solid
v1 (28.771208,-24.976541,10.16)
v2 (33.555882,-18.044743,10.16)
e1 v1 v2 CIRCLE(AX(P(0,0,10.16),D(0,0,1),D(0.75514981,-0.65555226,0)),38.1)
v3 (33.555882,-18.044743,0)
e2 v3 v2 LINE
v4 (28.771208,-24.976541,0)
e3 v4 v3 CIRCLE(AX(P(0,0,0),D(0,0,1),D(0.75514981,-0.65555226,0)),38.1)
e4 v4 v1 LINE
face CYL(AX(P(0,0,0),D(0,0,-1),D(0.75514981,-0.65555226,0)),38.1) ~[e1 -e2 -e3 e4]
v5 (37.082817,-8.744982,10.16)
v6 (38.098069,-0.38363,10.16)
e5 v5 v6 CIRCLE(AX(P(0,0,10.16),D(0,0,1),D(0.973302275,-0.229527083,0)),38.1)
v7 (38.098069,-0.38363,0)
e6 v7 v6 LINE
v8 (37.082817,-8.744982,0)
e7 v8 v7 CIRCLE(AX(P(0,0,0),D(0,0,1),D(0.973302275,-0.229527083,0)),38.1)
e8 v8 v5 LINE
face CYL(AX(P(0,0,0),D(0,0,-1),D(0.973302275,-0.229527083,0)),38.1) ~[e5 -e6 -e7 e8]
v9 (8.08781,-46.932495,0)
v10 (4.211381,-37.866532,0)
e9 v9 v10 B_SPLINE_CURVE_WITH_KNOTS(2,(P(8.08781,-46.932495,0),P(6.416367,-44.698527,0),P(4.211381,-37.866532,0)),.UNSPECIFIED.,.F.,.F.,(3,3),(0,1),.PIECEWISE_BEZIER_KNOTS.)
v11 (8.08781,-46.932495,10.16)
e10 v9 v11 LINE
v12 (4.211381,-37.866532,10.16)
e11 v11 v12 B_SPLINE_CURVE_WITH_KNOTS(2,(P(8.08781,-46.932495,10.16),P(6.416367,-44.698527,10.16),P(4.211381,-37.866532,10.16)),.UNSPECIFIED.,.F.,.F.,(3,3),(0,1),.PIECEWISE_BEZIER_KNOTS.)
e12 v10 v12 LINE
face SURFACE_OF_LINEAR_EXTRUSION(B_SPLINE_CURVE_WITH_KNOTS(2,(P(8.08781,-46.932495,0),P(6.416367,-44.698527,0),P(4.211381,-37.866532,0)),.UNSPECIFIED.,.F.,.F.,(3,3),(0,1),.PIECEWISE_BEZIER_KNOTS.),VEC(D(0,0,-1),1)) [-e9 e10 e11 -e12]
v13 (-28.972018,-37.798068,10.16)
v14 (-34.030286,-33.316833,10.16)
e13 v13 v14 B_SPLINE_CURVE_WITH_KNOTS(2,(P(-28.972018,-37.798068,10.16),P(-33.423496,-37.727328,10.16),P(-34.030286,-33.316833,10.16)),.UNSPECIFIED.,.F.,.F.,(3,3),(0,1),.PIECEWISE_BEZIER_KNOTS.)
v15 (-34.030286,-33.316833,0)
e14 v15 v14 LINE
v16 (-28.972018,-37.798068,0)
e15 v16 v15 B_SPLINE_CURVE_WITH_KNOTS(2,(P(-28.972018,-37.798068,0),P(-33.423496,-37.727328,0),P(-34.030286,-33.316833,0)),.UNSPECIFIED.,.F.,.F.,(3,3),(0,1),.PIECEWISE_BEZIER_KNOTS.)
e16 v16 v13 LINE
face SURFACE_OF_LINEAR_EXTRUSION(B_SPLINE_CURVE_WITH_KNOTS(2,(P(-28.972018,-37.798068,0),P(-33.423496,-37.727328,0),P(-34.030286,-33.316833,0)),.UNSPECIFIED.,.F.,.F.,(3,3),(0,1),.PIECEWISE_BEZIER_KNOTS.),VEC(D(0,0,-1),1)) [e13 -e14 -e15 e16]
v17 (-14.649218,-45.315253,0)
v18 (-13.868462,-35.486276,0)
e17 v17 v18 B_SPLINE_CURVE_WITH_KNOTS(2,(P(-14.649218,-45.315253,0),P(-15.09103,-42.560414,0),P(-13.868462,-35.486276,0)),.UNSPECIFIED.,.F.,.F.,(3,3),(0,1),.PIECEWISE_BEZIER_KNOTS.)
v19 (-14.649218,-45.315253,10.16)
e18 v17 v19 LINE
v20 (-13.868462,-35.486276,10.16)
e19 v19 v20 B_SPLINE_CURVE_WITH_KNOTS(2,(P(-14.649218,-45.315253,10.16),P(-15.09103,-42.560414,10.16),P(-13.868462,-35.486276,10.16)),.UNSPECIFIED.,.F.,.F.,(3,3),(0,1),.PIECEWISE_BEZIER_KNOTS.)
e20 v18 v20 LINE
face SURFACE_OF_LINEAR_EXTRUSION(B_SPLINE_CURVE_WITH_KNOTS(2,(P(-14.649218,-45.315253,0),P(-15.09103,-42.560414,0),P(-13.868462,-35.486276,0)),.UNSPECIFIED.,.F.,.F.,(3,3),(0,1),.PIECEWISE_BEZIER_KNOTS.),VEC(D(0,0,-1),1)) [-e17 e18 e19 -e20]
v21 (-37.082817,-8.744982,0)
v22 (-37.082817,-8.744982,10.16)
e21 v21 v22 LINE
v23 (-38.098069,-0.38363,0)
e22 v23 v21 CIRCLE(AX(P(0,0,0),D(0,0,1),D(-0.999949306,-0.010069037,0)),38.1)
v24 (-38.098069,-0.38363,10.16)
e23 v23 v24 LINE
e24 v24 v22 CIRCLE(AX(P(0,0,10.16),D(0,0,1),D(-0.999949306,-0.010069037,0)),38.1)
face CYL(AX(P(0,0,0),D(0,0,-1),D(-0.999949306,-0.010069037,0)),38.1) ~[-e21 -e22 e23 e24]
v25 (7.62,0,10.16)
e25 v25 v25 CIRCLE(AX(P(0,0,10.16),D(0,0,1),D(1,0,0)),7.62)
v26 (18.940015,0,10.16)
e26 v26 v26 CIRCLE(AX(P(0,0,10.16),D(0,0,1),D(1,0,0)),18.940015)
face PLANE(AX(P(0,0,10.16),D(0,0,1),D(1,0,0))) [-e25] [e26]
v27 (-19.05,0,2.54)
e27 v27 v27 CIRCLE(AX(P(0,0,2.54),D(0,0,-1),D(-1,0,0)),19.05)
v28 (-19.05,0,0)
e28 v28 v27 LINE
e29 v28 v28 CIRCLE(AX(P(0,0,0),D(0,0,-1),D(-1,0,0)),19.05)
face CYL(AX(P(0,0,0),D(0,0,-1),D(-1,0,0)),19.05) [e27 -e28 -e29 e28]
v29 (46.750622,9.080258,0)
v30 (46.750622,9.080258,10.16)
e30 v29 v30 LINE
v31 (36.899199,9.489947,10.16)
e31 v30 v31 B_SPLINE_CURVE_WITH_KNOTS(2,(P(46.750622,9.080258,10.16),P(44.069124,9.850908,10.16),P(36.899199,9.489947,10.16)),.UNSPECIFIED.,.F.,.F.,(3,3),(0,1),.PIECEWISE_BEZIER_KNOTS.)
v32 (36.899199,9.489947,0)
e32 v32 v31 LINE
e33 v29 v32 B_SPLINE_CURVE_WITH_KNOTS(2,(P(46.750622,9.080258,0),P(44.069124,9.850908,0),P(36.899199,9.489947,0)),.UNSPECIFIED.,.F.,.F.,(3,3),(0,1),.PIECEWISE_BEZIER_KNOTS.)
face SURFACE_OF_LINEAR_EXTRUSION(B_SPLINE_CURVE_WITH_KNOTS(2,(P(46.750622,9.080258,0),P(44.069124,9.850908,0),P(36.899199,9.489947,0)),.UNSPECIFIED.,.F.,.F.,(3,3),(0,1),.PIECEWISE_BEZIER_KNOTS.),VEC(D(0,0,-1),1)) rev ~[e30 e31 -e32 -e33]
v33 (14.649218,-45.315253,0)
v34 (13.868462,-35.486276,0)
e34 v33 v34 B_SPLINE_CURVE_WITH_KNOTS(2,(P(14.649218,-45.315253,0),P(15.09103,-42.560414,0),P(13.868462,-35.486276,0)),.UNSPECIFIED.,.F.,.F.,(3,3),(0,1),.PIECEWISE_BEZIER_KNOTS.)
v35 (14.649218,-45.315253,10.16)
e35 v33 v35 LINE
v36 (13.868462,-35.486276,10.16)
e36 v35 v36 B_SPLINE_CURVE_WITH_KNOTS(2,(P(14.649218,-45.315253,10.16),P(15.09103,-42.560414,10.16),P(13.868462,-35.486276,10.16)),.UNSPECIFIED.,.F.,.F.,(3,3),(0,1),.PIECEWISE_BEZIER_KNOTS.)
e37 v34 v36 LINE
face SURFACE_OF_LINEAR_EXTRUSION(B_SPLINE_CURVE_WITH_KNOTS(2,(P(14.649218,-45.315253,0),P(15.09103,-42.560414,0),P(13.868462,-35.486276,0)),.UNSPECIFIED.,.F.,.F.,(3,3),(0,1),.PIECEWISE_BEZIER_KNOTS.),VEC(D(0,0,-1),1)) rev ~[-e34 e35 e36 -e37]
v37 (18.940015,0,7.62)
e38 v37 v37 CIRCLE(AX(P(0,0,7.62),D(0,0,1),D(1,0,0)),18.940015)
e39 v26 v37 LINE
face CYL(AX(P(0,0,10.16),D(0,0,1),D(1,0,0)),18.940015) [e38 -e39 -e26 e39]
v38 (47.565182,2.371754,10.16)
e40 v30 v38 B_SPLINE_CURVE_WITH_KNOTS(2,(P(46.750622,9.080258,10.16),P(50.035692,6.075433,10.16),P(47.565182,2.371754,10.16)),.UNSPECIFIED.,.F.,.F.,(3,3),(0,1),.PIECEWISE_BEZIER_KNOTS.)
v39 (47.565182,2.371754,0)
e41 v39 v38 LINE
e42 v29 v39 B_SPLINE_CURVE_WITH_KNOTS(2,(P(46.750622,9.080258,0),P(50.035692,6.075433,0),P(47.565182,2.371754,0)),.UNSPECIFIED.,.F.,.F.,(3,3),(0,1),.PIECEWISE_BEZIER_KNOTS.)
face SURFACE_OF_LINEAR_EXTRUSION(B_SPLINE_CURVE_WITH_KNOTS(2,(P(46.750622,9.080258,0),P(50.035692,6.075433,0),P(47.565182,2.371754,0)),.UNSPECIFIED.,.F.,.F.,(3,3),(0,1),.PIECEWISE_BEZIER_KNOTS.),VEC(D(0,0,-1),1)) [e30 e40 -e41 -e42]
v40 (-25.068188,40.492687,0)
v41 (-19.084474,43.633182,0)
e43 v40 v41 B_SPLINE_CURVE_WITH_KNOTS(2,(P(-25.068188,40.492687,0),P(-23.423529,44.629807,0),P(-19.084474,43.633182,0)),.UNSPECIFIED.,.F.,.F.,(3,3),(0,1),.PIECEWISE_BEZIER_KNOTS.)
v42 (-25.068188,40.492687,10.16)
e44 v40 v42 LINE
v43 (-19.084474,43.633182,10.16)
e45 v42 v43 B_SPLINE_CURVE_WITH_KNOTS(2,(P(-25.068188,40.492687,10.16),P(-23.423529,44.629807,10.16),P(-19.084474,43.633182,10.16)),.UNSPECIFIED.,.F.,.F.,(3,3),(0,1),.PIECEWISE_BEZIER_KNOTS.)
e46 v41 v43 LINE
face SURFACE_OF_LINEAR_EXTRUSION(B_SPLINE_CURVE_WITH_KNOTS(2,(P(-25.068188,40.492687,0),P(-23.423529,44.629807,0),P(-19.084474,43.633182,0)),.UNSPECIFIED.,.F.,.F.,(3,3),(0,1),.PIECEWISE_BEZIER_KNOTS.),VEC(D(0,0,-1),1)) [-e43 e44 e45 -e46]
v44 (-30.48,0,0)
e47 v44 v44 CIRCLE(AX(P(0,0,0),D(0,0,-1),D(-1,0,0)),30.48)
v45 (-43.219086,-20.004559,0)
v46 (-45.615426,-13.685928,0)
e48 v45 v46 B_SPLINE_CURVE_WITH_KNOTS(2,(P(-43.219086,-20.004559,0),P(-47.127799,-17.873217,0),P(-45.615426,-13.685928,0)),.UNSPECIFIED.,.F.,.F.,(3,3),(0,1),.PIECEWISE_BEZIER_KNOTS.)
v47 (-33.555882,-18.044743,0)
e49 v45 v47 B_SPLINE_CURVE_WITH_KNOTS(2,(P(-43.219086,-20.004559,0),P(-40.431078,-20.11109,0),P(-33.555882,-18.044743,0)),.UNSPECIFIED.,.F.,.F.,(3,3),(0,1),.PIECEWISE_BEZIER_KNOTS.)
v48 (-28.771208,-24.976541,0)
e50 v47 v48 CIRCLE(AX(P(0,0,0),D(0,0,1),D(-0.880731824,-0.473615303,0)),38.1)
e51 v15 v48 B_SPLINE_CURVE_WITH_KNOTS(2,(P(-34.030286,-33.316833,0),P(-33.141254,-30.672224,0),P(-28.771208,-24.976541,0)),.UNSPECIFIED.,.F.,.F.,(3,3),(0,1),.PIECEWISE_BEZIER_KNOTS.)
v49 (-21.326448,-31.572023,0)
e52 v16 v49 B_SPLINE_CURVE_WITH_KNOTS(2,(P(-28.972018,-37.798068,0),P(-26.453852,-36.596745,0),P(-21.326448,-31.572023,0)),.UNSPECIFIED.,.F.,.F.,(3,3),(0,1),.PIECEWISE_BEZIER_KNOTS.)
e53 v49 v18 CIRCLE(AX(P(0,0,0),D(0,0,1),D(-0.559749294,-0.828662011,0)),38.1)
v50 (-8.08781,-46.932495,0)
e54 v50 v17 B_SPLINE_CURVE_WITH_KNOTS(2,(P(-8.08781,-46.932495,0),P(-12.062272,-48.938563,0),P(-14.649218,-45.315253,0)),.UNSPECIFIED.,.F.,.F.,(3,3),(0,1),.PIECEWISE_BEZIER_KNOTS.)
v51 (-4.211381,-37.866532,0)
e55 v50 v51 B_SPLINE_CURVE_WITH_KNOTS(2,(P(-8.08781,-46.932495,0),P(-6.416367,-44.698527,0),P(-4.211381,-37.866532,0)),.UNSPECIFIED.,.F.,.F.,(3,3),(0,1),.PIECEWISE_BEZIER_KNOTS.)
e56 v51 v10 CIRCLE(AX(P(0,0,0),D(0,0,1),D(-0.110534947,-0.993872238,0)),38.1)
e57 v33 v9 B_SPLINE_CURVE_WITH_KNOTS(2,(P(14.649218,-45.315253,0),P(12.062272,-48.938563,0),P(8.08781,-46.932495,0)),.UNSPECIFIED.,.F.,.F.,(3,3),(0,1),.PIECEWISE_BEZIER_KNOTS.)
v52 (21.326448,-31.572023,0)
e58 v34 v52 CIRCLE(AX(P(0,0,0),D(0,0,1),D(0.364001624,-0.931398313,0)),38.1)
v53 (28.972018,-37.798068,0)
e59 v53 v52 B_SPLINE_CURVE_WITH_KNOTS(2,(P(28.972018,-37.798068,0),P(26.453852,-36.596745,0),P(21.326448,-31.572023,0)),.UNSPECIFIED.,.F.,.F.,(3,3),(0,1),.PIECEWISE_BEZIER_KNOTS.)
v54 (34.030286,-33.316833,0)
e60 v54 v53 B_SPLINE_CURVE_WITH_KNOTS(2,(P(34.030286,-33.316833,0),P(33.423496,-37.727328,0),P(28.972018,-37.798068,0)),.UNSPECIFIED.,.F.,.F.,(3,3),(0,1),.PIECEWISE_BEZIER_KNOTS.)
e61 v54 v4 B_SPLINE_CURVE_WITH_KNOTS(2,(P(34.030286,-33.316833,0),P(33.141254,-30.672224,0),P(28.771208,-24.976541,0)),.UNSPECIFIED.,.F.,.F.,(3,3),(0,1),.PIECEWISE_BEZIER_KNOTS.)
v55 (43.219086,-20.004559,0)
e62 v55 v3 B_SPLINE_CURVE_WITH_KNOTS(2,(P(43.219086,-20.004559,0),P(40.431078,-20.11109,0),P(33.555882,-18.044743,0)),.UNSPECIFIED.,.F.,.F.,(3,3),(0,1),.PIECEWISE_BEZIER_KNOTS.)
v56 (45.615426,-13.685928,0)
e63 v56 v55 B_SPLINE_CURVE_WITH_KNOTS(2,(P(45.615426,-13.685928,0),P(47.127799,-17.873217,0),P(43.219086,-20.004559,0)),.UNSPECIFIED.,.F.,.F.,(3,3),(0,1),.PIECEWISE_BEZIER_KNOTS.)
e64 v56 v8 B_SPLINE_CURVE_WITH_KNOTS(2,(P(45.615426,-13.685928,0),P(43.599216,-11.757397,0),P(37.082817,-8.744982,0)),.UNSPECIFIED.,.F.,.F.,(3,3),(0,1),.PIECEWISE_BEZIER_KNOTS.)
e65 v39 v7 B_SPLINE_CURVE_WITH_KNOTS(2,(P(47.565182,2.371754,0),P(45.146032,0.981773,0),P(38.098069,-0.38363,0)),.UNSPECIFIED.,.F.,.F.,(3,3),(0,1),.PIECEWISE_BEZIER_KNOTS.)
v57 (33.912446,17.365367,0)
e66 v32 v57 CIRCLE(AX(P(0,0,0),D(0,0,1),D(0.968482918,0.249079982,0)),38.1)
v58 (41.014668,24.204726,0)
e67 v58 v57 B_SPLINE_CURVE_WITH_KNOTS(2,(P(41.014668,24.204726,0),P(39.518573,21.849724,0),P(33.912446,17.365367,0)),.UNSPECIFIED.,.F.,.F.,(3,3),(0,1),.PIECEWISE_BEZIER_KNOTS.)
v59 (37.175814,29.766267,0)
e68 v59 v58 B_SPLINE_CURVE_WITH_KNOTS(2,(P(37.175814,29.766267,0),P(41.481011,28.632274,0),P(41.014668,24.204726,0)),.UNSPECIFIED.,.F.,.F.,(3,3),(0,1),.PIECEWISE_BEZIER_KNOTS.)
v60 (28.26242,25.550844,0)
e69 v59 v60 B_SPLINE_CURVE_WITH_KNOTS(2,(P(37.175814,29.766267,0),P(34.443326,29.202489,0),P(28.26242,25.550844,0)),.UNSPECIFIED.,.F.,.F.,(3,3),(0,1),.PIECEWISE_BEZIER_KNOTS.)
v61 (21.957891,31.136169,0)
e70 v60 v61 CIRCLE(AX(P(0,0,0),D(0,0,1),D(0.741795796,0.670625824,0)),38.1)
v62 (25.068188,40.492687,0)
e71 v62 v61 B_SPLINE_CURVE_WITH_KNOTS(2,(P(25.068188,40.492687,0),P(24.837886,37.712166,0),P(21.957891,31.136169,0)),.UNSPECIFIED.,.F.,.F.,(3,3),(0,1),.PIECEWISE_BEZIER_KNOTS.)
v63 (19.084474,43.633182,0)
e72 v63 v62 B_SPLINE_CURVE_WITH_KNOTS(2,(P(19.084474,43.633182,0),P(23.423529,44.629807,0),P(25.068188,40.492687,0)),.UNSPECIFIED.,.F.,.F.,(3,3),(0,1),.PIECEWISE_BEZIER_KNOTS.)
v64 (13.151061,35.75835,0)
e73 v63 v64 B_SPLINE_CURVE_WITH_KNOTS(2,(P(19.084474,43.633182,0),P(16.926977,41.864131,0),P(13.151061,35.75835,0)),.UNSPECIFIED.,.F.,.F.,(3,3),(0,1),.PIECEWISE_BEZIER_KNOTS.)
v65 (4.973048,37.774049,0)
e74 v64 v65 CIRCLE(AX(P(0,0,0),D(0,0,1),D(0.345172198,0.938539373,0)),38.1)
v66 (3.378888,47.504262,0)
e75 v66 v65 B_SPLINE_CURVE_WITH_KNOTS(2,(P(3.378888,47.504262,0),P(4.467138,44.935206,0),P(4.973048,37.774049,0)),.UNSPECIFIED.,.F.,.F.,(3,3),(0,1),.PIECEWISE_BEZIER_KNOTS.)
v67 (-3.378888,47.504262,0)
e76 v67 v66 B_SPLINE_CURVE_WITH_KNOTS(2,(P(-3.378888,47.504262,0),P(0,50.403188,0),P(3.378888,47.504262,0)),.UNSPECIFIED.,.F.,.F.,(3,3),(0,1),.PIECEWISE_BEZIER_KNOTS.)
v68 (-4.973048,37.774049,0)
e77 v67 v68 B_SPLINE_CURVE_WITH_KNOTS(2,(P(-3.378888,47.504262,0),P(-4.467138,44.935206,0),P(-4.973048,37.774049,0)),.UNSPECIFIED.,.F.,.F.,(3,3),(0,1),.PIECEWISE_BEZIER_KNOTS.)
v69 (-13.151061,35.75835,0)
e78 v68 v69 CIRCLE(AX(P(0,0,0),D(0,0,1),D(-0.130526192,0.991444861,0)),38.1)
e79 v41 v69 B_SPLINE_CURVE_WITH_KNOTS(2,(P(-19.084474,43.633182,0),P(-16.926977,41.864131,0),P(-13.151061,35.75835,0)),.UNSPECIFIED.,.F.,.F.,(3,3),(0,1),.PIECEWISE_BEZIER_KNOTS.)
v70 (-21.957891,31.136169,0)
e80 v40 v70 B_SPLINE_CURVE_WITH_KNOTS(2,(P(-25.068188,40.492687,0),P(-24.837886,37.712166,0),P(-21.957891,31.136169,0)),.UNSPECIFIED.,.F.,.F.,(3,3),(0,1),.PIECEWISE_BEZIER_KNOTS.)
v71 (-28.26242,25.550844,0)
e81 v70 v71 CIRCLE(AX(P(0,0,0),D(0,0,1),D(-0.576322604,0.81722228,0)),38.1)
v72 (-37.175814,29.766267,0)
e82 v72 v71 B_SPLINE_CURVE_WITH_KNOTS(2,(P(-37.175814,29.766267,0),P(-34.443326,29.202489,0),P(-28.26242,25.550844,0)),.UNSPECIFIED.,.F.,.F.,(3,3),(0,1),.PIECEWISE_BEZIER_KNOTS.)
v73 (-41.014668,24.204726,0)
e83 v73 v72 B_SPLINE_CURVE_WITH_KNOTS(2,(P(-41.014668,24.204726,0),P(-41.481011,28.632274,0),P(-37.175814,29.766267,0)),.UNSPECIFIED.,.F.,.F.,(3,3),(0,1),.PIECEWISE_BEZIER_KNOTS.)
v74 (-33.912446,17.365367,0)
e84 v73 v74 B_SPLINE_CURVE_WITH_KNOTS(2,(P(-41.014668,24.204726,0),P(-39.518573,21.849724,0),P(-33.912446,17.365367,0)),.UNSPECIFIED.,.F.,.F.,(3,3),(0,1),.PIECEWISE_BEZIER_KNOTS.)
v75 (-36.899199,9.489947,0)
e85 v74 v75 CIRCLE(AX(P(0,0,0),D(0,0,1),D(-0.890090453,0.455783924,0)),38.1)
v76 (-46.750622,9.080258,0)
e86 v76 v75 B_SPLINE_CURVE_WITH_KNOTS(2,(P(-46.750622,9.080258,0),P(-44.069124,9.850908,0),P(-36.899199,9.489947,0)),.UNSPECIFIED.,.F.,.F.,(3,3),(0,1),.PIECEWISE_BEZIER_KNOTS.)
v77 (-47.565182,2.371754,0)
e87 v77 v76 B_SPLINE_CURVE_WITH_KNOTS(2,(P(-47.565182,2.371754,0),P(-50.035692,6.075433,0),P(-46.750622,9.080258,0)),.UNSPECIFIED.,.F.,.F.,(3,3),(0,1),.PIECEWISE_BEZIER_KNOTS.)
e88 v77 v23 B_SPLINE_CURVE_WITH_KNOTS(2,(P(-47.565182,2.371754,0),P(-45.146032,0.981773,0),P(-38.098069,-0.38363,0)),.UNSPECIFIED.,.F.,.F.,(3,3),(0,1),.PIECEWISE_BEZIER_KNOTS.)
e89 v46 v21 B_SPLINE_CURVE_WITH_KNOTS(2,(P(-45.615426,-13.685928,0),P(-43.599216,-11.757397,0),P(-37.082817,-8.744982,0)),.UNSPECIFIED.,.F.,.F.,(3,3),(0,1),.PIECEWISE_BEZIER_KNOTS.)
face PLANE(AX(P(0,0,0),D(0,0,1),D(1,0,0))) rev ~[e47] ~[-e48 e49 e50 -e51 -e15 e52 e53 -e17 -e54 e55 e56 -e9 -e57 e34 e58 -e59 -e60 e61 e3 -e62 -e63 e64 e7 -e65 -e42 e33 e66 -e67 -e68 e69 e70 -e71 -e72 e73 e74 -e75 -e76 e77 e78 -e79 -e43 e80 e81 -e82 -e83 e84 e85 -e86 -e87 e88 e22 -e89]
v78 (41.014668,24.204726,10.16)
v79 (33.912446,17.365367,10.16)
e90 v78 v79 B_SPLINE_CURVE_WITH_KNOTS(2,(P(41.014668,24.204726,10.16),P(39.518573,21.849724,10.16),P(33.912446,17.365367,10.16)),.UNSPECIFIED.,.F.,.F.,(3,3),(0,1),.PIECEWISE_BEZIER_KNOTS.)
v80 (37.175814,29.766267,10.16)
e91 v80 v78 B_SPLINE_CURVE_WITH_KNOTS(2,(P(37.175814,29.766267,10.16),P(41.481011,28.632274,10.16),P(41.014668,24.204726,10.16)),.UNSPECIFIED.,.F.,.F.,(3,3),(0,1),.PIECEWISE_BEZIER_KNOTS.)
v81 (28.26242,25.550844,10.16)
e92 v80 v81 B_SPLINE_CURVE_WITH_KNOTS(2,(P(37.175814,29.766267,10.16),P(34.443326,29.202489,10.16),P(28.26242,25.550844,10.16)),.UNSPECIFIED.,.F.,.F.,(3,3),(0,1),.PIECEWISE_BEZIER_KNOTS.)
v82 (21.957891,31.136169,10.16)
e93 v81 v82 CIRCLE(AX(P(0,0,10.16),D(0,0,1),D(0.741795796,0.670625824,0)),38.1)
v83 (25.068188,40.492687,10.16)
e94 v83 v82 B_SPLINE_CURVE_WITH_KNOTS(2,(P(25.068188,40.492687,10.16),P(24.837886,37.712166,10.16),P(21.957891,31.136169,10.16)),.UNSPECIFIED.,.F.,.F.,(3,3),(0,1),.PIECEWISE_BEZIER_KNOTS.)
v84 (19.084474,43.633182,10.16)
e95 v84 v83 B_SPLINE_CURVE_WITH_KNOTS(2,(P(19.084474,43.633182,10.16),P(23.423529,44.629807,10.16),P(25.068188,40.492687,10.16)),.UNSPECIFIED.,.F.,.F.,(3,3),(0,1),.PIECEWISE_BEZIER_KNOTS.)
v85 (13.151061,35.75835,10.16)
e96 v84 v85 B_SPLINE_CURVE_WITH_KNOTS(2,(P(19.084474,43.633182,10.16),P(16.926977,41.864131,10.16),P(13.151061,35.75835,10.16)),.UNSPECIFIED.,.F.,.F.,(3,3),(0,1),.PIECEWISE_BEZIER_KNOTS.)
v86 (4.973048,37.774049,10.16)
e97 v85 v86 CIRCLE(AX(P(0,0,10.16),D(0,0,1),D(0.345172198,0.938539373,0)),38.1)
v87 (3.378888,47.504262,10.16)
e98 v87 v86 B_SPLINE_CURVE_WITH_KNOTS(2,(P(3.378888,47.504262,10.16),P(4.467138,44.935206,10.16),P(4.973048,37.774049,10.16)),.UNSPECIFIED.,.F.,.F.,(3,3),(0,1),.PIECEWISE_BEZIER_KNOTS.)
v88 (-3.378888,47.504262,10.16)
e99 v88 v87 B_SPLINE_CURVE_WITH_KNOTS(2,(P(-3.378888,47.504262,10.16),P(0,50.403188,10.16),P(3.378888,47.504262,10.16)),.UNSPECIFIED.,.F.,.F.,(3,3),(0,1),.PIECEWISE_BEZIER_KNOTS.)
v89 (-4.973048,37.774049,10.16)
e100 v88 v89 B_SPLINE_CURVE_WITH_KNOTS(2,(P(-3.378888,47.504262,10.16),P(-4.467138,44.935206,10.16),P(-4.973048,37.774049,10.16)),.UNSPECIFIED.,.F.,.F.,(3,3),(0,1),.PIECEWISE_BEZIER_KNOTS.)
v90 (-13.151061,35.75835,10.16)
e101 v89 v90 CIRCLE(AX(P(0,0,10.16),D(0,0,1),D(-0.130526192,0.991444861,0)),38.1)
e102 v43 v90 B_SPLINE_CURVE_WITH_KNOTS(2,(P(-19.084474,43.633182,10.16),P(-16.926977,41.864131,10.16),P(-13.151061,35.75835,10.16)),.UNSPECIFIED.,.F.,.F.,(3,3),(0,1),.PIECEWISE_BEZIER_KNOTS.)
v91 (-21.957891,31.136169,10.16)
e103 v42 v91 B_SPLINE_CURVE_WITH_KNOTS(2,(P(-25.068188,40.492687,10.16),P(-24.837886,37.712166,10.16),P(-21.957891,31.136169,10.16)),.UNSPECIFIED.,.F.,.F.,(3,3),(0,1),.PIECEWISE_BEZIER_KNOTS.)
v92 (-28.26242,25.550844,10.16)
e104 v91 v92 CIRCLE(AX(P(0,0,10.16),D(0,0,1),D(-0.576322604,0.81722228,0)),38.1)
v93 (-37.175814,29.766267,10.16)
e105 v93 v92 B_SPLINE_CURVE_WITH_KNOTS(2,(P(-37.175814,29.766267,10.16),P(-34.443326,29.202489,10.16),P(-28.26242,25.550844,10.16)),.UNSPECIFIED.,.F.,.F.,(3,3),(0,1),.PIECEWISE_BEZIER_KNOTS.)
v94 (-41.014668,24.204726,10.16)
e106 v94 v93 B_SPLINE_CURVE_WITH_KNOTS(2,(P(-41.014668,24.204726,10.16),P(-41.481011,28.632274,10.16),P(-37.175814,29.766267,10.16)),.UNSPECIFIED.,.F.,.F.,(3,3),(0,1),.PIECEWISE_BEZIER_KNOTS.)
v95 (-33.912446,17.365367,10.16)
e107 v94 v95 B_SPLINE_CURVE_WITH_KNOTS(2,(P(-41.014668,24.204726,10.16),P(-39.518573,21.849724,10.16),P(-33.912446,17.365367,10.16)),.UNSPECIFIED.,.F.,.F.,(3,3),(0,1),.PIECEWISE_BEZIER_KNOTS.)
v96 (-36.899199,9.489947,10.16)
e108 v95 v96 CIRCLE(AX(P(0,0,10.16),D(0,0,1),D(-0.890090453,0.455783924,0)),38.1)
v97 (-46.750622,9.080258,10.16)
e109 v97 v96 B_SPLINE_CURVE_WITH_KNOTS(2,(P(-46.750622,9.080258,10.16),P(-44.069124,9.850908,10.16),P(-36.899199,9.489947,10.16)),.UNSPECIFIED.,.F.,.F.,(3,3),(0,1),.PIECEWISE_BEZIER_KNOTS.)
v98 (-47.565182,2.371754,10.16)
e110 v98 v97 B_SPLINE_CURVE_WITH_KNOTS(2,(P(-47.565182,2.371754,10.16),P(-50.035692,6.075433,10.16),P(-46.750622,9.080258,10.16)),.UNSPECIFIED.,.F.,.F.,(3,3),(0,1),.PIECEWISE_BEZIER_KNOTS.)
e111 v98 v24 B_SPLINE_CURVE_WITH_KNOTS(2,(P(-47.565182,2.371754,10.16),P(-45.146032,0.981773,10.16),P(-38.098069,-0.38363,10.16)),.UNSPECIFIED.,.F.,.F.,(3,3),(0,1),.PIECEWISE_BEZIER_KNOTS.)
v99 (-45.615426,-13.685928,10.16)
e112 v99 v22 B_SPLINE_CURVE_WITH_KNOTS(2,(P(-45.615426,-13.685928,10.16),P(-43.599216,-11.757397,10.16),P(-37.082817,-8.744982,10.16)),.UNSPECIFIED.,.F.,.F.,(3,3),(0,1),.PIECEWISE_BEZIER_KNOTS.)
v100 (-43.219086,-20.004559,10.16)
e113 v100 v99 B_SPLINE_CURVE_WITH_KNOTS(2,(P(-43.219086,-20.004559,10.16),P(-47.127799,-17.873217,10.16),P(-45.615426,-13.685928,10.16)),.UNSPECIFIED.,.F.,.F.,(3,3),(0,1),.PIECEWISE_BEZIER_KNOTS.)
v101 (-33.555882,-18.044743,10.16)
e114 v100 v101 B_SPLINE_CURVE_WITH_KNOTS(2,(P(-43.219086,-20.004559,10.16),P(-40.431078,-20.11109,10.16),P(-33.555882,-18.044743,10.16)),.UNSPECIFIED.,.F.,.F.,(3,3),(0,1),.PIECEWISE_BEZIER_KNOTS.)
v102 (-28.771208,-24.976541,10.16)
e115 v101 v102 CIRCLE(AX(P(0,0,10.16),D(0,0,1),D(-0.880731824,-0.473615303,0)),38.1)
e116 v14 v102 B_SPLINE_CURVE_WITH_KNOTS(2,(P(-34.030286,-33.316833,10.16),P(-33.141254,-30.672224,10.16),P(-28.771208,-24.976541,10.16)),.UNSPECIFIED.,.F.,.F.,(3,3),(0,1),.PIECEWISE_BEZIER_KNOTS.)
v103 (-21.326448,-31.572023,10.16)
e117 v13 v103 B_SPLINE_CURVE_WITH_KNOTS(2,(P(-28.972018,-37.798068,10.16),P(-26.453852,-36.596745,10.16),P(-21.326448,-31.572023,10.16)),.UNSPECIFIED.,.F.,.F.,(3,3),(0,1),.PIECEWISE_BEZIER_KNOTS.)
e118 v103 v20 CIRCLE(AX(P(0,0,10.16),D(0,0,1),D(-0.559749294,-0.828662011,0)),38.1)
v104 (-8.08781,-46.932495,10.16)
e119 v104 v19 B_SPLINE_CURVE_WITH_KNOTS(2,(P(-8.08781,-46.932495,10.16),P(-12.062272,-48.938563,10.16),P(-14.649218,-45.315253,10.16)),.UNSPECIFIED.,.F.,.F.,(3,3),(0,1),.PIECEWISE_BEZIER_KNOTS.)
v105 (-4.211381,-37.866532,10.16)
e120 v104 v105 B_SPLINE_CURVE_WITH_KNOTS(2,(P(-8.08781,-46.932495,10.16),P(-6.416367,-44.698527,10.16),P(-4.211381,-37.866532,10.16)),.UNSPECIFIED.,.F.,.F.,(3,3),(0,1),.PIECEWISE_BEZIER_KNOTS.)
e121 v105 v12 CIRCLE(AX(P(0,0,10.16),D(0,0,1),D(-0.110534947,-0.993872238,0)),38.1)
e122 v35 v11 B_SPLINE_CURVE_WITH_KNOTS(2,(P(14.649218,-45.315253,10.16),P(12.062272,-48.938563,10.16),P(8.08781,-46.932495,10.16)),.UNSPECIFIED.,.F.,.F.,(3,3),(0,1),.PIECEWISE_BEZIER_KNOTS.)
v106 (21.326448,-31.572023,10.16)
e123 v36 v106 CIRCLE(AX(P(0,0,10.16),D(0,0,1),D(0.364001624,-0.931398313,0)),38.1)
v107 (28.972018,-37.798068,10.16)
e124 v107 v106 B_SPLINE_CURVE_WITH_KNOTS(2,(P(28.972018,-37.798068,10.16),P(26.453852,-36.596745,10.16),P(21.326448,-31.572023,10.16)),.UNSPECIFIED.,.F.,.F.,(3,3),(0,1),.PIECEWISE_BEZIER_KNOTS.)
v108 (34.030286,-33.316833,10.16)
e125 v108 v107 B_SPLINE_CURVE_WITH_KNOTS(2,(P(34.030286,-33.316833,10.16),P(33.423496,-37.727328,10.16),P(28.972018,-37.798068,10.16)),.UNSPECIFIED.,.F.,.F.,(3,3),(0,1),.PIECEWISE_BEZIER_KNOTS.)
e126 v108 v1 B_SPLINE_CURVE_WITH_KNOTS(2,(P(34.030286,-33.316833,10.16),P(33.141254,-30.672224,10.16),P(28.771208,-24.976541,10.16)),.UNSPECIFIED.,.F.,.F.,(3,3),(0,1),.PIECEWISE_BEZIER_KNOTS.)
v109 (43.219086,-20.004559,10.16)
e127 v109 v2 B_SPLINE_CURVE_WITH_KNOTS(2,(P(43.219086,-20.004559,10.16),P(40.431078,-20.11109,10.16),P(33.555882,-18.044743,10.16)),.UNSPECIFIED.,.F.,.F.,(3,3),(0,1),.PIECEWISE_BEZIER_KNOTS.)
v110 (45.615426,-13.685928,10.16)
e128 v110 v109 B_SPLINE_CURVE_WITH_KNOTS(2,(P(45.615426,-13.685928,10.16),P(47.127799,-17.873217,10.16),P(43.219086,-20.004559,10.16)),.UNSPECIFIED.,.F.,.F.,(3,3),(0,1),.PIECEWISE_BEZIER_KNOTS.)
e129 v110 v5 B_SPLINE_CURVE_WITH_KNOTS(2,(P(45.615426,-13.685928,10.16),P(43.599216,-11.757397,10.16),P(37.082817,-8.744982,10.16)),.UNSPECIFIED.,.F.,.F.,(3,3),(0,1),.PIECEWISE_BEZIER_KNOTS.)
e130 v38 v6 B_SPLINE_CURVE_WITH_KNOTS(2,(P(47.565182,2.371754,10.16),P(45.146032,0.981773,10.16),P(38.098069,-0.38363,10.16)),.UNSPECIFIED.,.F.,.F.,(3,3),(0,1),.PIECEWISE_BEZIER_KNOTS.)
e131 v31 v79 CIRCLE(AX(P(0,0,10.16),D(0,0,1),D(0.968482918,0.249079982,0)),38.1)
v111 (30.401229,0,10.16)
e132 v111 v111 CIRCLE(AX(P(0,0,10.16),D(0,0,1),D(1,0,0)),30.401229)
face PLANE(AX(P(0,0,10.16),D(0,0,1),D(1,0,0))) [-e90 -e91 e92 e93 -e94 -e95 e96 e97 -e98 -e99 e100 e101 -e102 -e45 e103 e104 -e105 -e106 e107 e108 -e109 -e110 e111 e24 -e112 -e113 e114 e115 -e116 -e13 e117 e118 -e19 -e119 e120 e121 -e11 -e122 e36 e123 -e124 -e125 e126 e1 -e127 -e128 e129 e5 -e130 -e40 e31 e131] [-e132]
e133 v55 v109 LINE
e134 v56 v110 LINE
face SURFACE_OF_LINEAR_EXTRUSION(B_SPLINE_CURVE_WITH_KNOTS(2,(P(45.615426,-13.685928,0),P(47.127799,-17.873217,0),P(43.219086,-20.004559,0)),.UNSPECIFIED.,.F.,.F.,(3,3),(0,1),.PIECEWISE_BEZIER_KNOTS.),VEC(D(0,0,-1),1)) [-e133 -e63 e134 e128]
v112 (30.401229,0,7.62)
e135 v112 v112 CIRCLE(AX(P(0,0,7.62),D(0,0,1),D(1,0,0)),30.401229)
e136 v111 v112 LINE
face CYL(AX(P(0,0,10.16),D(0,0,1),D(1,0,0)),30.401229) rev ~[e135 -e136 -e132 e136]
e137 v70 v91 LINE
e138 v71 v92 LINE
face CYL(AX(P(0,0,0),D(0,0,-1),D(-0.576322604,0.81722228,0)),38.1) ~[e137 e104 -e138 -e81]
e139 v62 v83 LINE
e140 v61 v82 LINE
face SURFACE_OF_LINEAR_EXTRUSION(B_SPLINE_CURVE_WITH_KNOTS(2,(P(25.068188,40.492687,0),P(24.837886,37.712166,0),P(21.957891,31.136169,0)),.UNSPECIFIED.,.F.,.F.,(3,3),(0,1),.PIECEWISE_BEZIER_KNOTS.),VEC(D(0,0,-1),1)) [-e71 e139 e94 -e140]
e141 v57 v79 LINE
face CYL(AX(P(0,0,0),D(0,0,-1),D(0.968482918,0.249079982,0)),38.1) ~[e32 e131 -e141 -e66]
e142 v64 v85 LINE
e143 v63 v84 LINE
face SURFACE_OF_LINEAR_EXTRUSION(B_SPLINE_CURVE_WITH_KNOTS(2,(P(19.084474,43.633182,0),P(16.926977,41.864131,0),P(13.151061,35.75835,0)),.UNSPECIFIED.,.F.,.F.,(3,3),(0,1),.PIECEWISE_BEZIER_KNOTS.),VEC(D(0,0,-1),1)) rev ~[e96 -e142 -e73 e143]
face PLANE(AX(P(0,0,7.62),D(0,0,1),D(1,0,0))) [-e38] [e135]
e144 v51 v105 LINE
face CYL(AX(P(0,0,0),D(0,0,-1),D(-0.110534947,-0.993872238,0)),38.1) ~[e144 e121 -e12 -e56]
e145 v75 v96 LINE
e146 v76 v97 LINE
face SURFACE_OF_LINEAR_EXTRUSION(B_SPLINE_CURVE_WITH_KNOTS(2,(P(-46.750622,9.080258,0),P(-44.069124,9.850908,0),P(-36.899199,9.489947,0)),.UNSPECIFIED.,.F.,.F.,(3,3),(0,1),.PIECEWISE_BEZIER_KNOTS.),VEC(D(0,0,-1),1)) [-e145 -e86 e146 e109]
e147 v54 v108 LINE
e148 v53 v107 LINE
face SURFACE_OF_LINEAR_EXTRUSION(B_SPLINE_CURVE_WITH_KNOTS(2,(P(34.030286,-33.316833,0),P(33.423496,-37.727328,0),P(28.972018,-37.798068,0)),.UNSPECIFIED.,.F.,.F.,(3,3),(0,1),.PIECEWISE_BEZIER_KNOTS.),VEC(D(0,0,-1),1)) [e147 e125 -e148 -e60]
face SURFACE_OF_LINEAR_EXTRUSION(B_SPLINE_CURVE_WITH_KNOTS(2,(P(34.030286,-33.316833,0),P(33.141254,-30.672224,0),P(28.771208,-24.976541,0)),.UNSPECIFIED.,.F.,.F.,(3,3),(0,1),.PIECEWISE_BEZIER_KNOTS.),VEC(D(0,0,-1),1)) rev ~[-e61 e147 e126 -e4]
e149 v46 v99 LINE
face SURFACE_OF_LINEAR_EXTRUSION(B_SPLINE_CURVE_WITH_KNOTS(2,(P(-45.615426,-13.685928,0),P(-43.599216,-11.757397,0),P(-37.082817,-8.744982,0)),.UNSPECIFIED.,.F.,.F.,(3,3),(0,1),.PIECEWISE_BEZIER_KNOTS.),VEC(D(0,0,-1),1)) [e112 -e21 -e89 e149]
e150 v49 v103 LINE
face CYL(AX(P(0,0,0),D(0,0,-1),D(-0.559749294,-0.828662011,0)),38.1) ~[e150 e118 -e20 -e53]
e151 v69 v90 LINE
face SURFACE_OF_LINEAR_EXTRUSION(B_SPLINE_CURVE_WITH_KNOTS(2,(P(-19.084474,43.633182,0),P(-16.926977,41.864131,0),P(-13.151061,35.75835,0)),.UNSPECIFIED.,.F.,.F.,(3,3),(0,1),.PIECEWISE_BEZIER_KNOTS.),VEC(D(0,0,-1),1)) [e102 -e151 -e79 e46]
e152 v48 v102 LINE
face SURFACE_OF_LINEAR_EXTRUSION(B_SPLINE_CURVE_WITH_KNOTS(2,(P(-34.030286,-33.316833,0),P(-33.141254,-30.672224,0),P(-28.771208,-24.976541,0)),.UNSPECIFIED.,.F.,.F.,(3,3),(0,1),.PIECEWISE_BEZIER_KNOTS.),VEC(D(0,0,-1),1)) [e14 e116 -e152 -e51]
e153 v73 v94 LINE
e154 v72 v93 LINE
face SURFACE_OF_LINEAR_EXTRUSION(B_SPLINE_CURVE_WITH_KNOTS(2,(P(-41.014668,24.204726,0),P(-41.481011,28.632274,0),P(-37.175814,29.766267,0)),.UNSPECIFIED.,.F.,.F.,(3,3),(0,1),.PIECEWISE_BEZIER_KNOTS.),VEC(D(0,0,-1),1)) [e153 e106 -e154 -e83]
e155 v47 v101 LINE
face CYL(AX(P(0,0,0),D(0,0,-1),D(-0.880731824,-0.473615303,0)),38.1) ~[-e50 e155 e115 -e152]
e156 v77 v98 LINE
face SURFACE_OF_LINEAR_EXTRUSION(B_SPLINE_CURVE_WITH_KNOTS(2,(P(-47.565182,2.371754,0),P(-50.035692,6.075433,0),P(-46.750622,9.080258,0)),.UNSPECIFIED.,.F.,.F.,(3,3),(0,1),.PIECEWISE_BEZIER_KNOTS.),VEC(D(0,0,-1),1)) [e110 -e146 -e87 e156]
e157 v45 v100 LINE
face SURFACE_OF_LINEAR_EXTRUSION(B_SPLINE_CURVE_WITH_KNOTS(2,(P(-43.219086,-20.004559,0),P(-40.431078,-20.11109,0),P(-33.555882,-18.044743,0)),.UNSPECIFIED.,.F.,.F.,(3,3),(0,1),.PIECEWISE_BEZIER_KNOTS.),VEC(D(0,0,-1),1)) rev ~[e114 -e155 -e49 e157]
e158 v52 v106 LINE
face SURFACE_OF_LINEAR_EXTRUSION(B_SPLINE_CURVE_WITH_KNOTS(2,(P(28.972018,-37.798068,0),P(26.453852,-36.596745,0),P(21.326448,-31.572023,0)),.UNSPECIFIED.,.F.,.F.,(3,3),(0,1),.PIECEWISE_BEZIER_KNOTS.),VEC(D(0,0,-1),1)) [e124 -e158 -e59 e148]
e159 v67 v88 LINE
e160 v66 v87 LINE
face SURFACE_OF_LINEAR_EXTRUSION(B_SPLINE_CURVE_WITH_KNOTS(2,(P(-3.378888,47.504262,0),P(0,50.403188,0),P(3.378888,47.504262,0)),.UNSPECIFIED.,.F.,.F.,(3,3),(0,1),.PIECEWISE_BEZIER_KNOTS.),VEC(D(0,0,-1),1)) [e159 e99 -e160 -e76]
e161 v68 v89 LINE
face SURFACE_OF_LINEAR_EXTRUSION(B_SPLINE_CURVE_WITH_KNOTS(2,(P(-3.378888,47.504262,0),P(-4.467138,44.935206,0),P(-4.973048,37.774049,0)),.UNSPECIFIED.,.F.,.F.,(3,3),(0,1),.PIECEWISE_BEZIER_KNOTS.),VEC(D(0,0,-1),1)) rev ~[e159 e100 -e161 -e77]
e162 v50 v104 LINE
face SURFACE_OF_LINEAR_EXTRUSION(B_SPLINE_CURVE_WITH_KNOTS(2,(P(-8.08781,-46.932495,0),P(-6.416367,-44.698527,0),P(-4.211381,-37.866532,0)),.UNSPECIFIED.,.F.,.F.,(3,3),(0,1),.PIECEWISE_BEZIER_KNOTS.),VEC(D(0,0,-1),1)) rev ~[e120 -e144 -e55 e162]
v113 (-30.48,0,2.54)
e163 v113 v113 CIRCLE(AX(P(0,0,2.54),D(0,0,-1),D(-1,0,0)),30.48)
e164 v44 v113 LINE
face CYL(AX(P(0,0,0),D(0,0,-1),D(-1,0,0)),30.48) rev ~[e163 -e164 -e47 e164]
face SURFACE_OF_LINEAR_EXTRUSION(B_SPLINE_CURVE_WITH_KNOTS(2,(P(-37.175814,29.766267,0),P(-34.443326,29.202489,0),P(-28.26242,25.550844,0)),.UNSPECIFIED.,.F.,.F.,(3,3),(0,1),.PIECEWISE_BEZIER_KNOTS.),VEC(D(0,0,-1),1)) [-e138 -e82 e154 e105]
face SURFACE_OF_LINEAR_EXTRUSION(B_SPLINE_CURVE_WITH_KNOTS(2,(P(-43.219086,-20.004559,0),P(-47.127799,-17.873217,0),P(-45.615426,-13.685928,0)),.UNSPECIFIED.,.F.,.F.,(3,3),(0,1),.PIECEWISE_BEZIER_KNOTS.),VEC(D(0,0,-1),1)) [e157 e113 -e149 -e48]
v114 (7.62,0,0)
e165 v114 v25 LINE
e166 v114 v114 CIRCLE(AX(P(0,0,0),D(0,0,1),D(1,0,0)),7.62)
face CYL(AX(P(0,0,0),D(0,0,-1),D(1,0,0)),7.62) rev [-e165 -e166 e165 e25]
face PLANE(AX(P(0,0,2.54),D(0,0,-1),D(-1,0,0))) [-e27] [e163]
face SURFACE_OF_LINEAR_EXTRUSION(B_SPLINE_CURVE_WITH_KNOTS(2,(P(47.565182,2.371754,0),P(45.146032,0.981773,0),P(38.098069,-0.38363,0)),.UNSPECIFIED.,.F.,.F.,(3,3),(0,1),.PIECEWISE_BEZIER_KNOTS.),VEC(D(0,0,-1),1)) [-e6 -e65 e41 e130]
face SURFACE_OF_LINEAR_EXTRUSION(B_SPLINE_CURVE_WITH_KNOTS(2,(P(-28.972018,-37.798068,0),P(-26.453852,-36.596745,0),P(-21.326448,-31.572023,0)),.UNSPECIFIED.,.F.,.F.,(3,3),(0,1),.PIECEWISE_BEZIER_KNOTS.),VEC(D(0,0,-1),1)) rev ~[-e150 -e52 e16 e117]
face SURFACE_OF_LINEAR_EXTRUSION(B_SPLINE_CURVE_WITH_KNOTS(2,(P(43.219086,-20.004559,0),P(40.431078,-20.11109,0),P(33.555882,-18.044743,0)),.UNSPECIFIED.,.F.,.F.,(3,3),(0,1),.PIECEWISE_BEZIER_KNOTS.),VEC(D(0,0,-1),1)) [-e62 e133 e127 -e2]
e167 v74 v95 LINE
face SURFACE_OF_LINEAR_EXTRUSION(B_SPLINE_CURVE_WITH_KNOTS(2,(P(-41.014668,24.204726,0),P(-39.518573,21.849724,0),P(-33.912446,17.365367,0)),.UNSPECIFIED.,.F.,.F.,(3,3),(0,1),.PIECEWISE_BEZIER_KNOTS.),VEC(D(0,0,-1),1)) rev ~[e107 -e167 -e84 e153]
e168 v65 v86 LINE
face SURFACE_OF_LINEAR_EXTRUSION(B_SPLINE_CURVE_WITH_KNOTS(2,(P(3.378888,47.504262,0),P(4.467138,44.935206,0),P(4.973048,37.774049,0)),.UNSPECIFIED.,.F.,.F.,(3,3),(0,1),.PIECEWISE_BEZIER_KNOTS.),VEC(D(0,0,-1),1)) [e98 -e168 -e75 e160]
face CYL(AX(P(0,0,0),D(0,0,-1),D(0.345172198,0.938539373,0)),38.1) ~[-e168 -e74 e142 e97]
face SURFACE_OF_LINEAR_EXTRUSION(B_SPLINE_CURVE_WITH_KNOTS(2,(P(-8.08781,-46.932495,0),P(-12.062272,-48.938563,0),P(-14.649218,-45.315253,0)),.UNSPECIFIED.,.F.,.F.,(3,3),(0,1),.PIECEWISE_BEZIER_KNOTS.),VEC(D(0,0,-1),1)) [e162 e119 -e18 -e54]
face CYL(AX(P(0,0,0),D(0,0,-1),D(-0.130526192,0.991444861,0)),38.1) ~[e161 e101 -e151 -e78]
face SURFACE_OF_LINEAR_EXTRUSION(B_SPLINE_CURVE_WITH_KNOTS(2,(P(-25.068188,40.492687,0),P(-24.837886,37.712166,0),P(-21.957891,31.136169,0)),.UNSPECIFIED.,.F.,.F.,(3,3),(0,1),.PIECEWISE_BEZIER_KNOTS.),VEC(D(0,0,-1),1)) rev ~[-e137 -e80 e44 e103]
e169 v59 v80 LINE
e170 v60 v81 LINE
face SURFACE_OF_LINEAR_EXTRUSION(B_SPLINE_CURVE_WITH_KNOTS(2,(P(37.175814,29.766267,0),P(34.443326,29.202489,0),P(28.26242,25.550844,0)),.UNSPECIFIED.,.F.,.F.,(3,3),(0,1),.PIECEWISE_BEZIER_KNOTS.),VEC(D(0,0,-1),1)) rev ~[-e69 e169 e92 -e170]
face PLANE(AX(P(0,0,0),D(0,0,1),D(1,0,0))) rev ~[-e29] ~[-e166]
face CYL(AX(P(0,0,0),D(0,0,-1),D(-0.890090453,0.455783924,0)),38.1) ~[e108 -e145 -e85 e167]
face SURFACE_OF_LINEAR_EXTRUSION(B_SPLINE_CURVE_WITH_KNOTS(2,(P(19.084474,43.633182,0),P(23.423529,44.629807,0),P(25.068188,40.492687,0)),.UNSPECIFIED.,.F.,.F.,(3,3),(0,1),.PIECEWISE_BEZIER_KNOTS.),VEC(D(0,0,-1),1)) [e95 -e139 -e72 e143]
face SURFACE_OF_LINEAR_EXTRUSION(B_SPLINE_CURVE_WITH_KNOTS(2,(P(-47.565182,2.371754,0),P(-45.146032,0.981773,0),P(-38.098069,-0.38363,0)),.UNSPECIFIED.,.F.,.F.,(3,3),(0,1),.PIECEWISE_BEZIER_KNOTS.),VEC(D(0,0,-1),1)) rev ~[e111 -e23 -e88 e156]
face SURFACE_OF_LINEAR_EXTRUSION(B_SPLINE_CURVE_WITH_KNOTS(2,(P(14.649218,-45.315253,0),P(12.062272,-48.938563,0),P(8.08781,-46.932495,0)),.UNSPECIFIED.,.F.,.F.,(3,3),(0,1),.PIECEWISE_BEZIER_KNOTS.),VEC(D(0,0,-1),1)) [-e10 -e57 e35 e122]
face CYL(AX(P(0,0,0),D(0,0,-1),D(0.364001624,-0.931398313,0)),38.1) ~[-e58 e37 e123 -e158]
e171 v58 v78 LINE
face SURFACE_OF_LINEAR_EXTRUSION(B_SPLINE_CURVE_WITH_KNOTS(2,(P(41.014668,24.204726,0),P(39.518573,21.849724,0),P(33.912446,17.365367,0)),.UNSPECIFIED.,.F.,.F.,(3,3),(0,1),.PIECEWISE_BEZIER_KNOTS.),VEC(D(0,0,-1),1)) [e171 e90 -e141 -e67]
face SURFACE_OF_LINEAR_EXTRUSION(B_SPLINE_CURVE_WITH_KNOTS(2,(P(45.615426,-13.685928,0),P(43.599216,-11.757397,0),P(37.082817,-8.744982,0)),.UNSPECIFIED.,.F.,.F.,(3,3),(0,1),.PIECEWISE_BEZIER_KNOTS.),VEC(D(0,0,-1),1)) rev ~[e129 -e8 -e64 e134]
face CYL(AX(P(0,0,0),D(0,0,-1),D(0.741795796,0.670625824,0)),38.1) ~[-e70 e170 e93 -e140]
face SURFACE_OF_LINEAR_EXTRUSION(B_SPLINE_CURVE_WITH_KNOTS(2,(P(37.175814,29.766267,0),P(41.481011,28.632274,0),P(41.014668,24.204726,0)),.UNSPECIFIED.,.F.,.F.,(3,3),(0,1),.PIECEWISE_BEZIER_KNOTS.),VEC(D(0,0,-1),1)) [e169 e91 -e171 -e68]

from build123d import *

# Parameters (mm, degrees)
SKETCH1_R           = 7.62
BOSS_EXTRUDE2_DEPTH = 10.16
SKETCH2_R           = 30.48
SKETCH2_R_2         = 19.05
CUT_EXTRUDE1_DEPTH  = 2.54
SKETCH4_R           = 30.401229143
SKETCH4_R_2         = 18.940015454
CUT_EXTRUDE3_DEPTH  = 2.54


with BuildPart() as part:
    # Sketch1 → Boss-Extrude2 (new body)
    with BuildSketch(Plane.XY):
        with BuildLine():
            ThreePointArc((-4.973047924, 37.774049218), (-9.117926809, 36.992883244), (-13.151060724, 35.758350099))
            add(Edge.make_bspline(
                [(-19.084474431, 43.633182282), (-16.926977066, 41.864131326), (-13.151060724, 35.758350099)],
                knots=[0, 0, 0, 1, 1, 1], degree=2))
            add(Edge.make_bspline(
                [(-25.068187902, 40.492687188), (-23.423529412, 44.629806533), (-19.084474431, 43.633182282)],
                knots=[0, 0, 0, 1, 1, 1], degree=2))
            add(Edge.make_bspline(
                [(-25.068187902, 40.492687188), (-24.837885701, 37.712166182), (-21.957891223, 31.136168888)],
                knots=[0, 0, 0, 1, 1, 1], degree=2))
            ThreePointArc((-21.957891223, 31.136168888), (-25.264973279, 28.518259505), (-28.262419847, 25.550843908))
            add(Edge.make_bspline(
                [(-37.175813758, 29.766266676), (-34.443325744, 29.202488866), (-28.262419847, 25.550843908)],
                knots=[0, 0, 0, 1, 1, 1], degree=2))
            add(Edge.make_bspline(
                [(-41.014668065, 24.204726066), (-41.481010519, 28.63227423), (-37.175813758, 29.766266676)],
                knots=[0, 0, 0, 1, 1, 1], degree=2))
            add(Edge.make_bspline(
                [(-41.014668065, 24.204726066), (-39.518573051, 21.849723757), (-33.912446265, 17.365367497)],
                knots=[0, 0, 0, 1, 1, 1], degree=2))
            ThreePointArc((-33.912446265, 17.365367497), (-35.624118846, 13.510446196), (-36.899199182, 9.489947298))
            add(Edge.make_bspline(
                [(-46.75062217, 9.080258097), (-44.069123581, 9.850908135), (-36.899199182, 9.489947298)],
                knots=[0, 0, 0, 1, 1, 1], degree=2))
            add(Edge.make_bspline(
                [(-47.565182054, 2.371753901), (-50.035692017, 6.075432957), (-46.75062217, 9.080258097)],
                knots=[0, 0, 0, 1, 1, 1], degree=2))
            add(Edge.make_bspline(
                [(-47.565182054, 2.371753901), (-45.146031566, 0.981772936), (-38.098068557, -0.383630312)],
                knots=[0, 0, 0, 1, 1, 1], degree=2))
            ThreePointArc((-38.098068557, -0.383630312), (-37.822208103, -4.592447518), (-37.082816668, -8.744981872))
            add(Edge.make_bspline(
                [(-45.615426449, -13.685928184), (-43.599216296, -11.757396933), (-37.082816668, -8.744981872)],
                knots=[0, 0, 0, 1, 1, 1], degree=2))
            add(Edge.make_bspline(
                [(-43.219086057, -20.0045585), (-47.12779947, -17.87321679), (-45.615426449, -13.685928184)],
                knots=[0, 0, 0, 1, 1, 1], degree=2))
            add(Edge.make_bspline(
                [(-43.219086057, -20.0045585), (-40.431078318, -20.111090232), (-33.555882474, -18.04474304)],
                knots=[0, 0, 0, 1, 1, 1], degree=2))
            ThreePointArc((-33.555882474, -18.04474304), (-31.355685291, -21.64326685), (-28.771207752, -24.976541083))
            add(Edge.make_bspline(
                [(-34.030286254, -33.31683325), (-33.141253985, -30.672224056), (-28.771207752, -24.976541083)],
                knots=[0, 0, 0, 1, 1, 1], degree=2))
            add(Edge.make_bspline(
                [(-28.972018291, -37.798067629), (-33.423496015, -37.727327965), (-34.030286254, -33.31683325)],
                knots=[0, 0, 0, 1, 1, 1], degree=2))
            add(Edge.make_bspline(
                [(-28.972018291, -37.798067629), (-26.453852274, -36.596744994), (-21.326448108, -31.572022601)],
                knots=[0, 0, 0, 1, 1, 1], degree=2))
            ThreePointArc((-21.326448108, -31.572022601), (-17.705952855, -33.735874577), (-13.868461871, -35.486275732))
            add(Edge.make_bspline(
                [(-14.649217588, -45.315253331), (-15.091029782, -42.560414288), (-13.868461871, -35.486275732)],
                knots=[0, 0, 0, 1, 1, 1], degree=2))
            add(Edge.make_bspline(
                [(-8.087810285, -46.932494981), (-12.06227242, -48.938562968), (-14.649217588, -45.315253331)],
                knots=[0, 0, 0, 1, 1, 1], degree=2))
            add(Edge.make_bspline(
                [(-8.087810285, -46.932494981), (-6.416367478, -44.698526515), (-4.211381492, -37.866532267)],
                knots=[0, 0, 0, 1, 1, 1], degree=2))
            ThreePointArc((-4.211381492, -37.866532267), (0, -38.1), (4.211381492, -37.866532267))
            add(Edge.make_bspline(
                [(8.087810285, -46.932494981), (6.416367478, -44.698526515), (4.211381492, -37.866532267)],
                knots=[0, 0, 0, 1, 1, 1], degree=2))
            add(Edge.make_bspline(
                [(14.649217588, -45.315253331), (12.06227242, -48.938562968), (8.087810285, -46.932494981)],
                knots=[0, 0, 0, 1, 1, 1], degree=2))
            add(Edge.make_bspline(
                [(14.649217588, -45.315253331), (15.091029782, -42.560414288), (13.868461871, -35.486275732)],
                knots=[0, 0, 0, 1, 1, 1], degree=2))
            ThreePointArc((13.868461871, -35.486275732), (17.705952855, -33.735874577), (21.326448108, -31.572022601))
            add(Edge.make_bspline(
                [(28.972018291, -37.798067629), (26.453852274, -36.596744994), (21.326448108, -31.572022601)],
                knots=[0, 0, 0, 1, 1, 1], degree=2))
            add(Edge.make_bspline(
                [(34.030286254, -33.31683325), (33.423496015, -37.727327965), (28.972018291, -37.798067629)],
                knots=[0, 0, 0, 1, 1, 1], degree=2))
            add(Edge.make_bspline(
                [(34.030286254, -33.31683325), (33.141253985, -30.672224056), (28.771207752, -24.976541083)],
                knots=[0, 0, 0, 1, 1, 1], degree=2))
            ThreePointArc((28.771207752, -24.976541083), (31.355685291, -21.64326685), (33.555882474, -18.04474304))
            add(Edge.make_bspline(
                [(43.219086057, -20.0045585), (40.431078318, -20.111090232), (33.555882474, -18.04474304)],
                knots=[0, 0, 0, 1, 1, 1], degree=2))
            add(Edge.make_bspline(
                [(45.615426449, -13.685928184), (47.12779947, -17.87321679), (43.219086057, -20.0045585)],
                knots=[0, 0, 0, 1, 1, 1], degree=2))
            add(Edge.make_bspline(
                [(45.615426449, -13.685928184), (43.599216296, -11.757396933), (37.082816668, -8.744981872)],
                knots=[0, 0, 0, 1, 1, 1], degree=2))
            ThreePointArc((37.082816668, -8.744981872), (37.822208103, -4.592447518), (38.098068557, -0.383630312))
            add(Edge.make_bspline(
                [(47.565182054, 2.371753901), (45.146031566, 0.981772936), (38.098068557, -0.383630312)],
                knots=[0, 0, 0, 1, 1, 1], degree=2))
            add(Edge.make_bspline(
                [(46.75062217, 9.080258097), (50.035692017, 6.075432957), (47.565182054, 2.371753901)],
                knots=[0, 0, 0, 1, 1, 1], degree=2))
            add(Edge.make_bspline(
                [(46.75062217, 9.080258097), (44.069123581, 9.850908135), (36.899199182, 9.489947298)],
                knots=[0, 0, 0, 1, 1, 1], degree=2))
            ThreePointArc((36.899199182, 9.489947298), (35.624118846, 13.510446196), (33.912446265, 17.365367497))
            add(Edge.make_bspline(
                [(41.014668065, 24.204726066), (39.518573051, 21.849723757), (33.912446265, 17.365367497)],
                knots=[0, 0, 0, 1, 1, 1], degree=2))
            add(Edge.make_bspline(
                [(37.175813758, 29.766266676), (41.481010519, 28.63227423), (41.014668065, 24.204726066)],
                knots=[0, 0, 0, 1, 1, 1], degree=2))
            add(Edge.make_bspline(
                [(37.175813758, 29.766266676), (34.443325744, 29.202488866), (28.262419847, 25.550843908)],
                knots=[0, 0, 0, 1, 1, 1], degree=2))
            ThreePointArc((28.262419847, 25.550843908), (25.264973279, 28.518259505), (21.957891223, 31.136168888))
            add(Edge.make_bspline(
                [(25.068187902, 40.492687188), (24.837885701, 37.712166182), (21.957891223, 31.136168888)],
                knots=[0, 0, 0, 1, 1, 1], degree=2))
            add(Edge.make_bspline(
                [(19.084474431, 43.633182282), (23.423529412, 44.629806533), (25.068187902, 40.492687188)],
                knots=[0, 0, 0, 1, 1, 1], degree=2))
            add(Edge.make_bspline(
                [(19.084474431, 43.633182282), (16.926977066, 41.864131326), (13.151060724, 35.758350099)],
                knots=[0, 0, 0, 1, 1, 1], degree=2))
            ThreePointArc((13.151060724, 35.758350099), (9.117926809, 36.992883244), (4.973047924, 37.774049218))
            add(Edge.make_bspline(
                [(3.378887996, 47.504261665), (4.467138065, 44.935205816), (4.973047924, 37.774049218)],
                knots=[0, 0, 0, 1, 1, 1], degree=2))
            add(Edge.make_bspline(
                [(-3.378887996, 47.504261665), (0, 50.403188007), (3.378887996, 47.504261665)],
                knots=[0, 0, 0, 1, 1, 1], degree=2))
            add(Edge.make_bspline(
                [(-3.378887996, 47.504261665), (-4.467138065, 44.935205816), (-4.973047924, 37.774049218)],
                knots=[0, 0, 0, 1, 1, 1], degree=2))
        make_face()
        Circle(SKETCH1_R, mode=Mode.SUBTRACT)
    extrude(amount=BOSS_EXTRUDE2_DEPTH)

    # Sketch2 → Cut-Extrude1 (cut)
    with BuildSketch(Plane(origin=(0, 0, 0), x_dir=(-1, 0, 0), z_dir=(0, 0, -1))):
        Circle(SKETCH2_R)
        Circle(SKETCH2_R_2, mode=Mode.SUBTRACT)
    extrude(amount=-CUT_EXTRUDE1_DEPTH, mode=Mode.SUBTRACT)

    # Sketch4 → Cut-Extrude3 (cut)
    with BuildSketch(Plane.XY.offset(10.16)):
        Circle(SKETCH4_R)
        Circle(SKETCH4_R_2, mode=Mode.SUBTRACT)
    extrude(amount=-CUT_EXTRUDE3_DEPTH, mode=Mode.SUBTRACT)


solid = part.part
